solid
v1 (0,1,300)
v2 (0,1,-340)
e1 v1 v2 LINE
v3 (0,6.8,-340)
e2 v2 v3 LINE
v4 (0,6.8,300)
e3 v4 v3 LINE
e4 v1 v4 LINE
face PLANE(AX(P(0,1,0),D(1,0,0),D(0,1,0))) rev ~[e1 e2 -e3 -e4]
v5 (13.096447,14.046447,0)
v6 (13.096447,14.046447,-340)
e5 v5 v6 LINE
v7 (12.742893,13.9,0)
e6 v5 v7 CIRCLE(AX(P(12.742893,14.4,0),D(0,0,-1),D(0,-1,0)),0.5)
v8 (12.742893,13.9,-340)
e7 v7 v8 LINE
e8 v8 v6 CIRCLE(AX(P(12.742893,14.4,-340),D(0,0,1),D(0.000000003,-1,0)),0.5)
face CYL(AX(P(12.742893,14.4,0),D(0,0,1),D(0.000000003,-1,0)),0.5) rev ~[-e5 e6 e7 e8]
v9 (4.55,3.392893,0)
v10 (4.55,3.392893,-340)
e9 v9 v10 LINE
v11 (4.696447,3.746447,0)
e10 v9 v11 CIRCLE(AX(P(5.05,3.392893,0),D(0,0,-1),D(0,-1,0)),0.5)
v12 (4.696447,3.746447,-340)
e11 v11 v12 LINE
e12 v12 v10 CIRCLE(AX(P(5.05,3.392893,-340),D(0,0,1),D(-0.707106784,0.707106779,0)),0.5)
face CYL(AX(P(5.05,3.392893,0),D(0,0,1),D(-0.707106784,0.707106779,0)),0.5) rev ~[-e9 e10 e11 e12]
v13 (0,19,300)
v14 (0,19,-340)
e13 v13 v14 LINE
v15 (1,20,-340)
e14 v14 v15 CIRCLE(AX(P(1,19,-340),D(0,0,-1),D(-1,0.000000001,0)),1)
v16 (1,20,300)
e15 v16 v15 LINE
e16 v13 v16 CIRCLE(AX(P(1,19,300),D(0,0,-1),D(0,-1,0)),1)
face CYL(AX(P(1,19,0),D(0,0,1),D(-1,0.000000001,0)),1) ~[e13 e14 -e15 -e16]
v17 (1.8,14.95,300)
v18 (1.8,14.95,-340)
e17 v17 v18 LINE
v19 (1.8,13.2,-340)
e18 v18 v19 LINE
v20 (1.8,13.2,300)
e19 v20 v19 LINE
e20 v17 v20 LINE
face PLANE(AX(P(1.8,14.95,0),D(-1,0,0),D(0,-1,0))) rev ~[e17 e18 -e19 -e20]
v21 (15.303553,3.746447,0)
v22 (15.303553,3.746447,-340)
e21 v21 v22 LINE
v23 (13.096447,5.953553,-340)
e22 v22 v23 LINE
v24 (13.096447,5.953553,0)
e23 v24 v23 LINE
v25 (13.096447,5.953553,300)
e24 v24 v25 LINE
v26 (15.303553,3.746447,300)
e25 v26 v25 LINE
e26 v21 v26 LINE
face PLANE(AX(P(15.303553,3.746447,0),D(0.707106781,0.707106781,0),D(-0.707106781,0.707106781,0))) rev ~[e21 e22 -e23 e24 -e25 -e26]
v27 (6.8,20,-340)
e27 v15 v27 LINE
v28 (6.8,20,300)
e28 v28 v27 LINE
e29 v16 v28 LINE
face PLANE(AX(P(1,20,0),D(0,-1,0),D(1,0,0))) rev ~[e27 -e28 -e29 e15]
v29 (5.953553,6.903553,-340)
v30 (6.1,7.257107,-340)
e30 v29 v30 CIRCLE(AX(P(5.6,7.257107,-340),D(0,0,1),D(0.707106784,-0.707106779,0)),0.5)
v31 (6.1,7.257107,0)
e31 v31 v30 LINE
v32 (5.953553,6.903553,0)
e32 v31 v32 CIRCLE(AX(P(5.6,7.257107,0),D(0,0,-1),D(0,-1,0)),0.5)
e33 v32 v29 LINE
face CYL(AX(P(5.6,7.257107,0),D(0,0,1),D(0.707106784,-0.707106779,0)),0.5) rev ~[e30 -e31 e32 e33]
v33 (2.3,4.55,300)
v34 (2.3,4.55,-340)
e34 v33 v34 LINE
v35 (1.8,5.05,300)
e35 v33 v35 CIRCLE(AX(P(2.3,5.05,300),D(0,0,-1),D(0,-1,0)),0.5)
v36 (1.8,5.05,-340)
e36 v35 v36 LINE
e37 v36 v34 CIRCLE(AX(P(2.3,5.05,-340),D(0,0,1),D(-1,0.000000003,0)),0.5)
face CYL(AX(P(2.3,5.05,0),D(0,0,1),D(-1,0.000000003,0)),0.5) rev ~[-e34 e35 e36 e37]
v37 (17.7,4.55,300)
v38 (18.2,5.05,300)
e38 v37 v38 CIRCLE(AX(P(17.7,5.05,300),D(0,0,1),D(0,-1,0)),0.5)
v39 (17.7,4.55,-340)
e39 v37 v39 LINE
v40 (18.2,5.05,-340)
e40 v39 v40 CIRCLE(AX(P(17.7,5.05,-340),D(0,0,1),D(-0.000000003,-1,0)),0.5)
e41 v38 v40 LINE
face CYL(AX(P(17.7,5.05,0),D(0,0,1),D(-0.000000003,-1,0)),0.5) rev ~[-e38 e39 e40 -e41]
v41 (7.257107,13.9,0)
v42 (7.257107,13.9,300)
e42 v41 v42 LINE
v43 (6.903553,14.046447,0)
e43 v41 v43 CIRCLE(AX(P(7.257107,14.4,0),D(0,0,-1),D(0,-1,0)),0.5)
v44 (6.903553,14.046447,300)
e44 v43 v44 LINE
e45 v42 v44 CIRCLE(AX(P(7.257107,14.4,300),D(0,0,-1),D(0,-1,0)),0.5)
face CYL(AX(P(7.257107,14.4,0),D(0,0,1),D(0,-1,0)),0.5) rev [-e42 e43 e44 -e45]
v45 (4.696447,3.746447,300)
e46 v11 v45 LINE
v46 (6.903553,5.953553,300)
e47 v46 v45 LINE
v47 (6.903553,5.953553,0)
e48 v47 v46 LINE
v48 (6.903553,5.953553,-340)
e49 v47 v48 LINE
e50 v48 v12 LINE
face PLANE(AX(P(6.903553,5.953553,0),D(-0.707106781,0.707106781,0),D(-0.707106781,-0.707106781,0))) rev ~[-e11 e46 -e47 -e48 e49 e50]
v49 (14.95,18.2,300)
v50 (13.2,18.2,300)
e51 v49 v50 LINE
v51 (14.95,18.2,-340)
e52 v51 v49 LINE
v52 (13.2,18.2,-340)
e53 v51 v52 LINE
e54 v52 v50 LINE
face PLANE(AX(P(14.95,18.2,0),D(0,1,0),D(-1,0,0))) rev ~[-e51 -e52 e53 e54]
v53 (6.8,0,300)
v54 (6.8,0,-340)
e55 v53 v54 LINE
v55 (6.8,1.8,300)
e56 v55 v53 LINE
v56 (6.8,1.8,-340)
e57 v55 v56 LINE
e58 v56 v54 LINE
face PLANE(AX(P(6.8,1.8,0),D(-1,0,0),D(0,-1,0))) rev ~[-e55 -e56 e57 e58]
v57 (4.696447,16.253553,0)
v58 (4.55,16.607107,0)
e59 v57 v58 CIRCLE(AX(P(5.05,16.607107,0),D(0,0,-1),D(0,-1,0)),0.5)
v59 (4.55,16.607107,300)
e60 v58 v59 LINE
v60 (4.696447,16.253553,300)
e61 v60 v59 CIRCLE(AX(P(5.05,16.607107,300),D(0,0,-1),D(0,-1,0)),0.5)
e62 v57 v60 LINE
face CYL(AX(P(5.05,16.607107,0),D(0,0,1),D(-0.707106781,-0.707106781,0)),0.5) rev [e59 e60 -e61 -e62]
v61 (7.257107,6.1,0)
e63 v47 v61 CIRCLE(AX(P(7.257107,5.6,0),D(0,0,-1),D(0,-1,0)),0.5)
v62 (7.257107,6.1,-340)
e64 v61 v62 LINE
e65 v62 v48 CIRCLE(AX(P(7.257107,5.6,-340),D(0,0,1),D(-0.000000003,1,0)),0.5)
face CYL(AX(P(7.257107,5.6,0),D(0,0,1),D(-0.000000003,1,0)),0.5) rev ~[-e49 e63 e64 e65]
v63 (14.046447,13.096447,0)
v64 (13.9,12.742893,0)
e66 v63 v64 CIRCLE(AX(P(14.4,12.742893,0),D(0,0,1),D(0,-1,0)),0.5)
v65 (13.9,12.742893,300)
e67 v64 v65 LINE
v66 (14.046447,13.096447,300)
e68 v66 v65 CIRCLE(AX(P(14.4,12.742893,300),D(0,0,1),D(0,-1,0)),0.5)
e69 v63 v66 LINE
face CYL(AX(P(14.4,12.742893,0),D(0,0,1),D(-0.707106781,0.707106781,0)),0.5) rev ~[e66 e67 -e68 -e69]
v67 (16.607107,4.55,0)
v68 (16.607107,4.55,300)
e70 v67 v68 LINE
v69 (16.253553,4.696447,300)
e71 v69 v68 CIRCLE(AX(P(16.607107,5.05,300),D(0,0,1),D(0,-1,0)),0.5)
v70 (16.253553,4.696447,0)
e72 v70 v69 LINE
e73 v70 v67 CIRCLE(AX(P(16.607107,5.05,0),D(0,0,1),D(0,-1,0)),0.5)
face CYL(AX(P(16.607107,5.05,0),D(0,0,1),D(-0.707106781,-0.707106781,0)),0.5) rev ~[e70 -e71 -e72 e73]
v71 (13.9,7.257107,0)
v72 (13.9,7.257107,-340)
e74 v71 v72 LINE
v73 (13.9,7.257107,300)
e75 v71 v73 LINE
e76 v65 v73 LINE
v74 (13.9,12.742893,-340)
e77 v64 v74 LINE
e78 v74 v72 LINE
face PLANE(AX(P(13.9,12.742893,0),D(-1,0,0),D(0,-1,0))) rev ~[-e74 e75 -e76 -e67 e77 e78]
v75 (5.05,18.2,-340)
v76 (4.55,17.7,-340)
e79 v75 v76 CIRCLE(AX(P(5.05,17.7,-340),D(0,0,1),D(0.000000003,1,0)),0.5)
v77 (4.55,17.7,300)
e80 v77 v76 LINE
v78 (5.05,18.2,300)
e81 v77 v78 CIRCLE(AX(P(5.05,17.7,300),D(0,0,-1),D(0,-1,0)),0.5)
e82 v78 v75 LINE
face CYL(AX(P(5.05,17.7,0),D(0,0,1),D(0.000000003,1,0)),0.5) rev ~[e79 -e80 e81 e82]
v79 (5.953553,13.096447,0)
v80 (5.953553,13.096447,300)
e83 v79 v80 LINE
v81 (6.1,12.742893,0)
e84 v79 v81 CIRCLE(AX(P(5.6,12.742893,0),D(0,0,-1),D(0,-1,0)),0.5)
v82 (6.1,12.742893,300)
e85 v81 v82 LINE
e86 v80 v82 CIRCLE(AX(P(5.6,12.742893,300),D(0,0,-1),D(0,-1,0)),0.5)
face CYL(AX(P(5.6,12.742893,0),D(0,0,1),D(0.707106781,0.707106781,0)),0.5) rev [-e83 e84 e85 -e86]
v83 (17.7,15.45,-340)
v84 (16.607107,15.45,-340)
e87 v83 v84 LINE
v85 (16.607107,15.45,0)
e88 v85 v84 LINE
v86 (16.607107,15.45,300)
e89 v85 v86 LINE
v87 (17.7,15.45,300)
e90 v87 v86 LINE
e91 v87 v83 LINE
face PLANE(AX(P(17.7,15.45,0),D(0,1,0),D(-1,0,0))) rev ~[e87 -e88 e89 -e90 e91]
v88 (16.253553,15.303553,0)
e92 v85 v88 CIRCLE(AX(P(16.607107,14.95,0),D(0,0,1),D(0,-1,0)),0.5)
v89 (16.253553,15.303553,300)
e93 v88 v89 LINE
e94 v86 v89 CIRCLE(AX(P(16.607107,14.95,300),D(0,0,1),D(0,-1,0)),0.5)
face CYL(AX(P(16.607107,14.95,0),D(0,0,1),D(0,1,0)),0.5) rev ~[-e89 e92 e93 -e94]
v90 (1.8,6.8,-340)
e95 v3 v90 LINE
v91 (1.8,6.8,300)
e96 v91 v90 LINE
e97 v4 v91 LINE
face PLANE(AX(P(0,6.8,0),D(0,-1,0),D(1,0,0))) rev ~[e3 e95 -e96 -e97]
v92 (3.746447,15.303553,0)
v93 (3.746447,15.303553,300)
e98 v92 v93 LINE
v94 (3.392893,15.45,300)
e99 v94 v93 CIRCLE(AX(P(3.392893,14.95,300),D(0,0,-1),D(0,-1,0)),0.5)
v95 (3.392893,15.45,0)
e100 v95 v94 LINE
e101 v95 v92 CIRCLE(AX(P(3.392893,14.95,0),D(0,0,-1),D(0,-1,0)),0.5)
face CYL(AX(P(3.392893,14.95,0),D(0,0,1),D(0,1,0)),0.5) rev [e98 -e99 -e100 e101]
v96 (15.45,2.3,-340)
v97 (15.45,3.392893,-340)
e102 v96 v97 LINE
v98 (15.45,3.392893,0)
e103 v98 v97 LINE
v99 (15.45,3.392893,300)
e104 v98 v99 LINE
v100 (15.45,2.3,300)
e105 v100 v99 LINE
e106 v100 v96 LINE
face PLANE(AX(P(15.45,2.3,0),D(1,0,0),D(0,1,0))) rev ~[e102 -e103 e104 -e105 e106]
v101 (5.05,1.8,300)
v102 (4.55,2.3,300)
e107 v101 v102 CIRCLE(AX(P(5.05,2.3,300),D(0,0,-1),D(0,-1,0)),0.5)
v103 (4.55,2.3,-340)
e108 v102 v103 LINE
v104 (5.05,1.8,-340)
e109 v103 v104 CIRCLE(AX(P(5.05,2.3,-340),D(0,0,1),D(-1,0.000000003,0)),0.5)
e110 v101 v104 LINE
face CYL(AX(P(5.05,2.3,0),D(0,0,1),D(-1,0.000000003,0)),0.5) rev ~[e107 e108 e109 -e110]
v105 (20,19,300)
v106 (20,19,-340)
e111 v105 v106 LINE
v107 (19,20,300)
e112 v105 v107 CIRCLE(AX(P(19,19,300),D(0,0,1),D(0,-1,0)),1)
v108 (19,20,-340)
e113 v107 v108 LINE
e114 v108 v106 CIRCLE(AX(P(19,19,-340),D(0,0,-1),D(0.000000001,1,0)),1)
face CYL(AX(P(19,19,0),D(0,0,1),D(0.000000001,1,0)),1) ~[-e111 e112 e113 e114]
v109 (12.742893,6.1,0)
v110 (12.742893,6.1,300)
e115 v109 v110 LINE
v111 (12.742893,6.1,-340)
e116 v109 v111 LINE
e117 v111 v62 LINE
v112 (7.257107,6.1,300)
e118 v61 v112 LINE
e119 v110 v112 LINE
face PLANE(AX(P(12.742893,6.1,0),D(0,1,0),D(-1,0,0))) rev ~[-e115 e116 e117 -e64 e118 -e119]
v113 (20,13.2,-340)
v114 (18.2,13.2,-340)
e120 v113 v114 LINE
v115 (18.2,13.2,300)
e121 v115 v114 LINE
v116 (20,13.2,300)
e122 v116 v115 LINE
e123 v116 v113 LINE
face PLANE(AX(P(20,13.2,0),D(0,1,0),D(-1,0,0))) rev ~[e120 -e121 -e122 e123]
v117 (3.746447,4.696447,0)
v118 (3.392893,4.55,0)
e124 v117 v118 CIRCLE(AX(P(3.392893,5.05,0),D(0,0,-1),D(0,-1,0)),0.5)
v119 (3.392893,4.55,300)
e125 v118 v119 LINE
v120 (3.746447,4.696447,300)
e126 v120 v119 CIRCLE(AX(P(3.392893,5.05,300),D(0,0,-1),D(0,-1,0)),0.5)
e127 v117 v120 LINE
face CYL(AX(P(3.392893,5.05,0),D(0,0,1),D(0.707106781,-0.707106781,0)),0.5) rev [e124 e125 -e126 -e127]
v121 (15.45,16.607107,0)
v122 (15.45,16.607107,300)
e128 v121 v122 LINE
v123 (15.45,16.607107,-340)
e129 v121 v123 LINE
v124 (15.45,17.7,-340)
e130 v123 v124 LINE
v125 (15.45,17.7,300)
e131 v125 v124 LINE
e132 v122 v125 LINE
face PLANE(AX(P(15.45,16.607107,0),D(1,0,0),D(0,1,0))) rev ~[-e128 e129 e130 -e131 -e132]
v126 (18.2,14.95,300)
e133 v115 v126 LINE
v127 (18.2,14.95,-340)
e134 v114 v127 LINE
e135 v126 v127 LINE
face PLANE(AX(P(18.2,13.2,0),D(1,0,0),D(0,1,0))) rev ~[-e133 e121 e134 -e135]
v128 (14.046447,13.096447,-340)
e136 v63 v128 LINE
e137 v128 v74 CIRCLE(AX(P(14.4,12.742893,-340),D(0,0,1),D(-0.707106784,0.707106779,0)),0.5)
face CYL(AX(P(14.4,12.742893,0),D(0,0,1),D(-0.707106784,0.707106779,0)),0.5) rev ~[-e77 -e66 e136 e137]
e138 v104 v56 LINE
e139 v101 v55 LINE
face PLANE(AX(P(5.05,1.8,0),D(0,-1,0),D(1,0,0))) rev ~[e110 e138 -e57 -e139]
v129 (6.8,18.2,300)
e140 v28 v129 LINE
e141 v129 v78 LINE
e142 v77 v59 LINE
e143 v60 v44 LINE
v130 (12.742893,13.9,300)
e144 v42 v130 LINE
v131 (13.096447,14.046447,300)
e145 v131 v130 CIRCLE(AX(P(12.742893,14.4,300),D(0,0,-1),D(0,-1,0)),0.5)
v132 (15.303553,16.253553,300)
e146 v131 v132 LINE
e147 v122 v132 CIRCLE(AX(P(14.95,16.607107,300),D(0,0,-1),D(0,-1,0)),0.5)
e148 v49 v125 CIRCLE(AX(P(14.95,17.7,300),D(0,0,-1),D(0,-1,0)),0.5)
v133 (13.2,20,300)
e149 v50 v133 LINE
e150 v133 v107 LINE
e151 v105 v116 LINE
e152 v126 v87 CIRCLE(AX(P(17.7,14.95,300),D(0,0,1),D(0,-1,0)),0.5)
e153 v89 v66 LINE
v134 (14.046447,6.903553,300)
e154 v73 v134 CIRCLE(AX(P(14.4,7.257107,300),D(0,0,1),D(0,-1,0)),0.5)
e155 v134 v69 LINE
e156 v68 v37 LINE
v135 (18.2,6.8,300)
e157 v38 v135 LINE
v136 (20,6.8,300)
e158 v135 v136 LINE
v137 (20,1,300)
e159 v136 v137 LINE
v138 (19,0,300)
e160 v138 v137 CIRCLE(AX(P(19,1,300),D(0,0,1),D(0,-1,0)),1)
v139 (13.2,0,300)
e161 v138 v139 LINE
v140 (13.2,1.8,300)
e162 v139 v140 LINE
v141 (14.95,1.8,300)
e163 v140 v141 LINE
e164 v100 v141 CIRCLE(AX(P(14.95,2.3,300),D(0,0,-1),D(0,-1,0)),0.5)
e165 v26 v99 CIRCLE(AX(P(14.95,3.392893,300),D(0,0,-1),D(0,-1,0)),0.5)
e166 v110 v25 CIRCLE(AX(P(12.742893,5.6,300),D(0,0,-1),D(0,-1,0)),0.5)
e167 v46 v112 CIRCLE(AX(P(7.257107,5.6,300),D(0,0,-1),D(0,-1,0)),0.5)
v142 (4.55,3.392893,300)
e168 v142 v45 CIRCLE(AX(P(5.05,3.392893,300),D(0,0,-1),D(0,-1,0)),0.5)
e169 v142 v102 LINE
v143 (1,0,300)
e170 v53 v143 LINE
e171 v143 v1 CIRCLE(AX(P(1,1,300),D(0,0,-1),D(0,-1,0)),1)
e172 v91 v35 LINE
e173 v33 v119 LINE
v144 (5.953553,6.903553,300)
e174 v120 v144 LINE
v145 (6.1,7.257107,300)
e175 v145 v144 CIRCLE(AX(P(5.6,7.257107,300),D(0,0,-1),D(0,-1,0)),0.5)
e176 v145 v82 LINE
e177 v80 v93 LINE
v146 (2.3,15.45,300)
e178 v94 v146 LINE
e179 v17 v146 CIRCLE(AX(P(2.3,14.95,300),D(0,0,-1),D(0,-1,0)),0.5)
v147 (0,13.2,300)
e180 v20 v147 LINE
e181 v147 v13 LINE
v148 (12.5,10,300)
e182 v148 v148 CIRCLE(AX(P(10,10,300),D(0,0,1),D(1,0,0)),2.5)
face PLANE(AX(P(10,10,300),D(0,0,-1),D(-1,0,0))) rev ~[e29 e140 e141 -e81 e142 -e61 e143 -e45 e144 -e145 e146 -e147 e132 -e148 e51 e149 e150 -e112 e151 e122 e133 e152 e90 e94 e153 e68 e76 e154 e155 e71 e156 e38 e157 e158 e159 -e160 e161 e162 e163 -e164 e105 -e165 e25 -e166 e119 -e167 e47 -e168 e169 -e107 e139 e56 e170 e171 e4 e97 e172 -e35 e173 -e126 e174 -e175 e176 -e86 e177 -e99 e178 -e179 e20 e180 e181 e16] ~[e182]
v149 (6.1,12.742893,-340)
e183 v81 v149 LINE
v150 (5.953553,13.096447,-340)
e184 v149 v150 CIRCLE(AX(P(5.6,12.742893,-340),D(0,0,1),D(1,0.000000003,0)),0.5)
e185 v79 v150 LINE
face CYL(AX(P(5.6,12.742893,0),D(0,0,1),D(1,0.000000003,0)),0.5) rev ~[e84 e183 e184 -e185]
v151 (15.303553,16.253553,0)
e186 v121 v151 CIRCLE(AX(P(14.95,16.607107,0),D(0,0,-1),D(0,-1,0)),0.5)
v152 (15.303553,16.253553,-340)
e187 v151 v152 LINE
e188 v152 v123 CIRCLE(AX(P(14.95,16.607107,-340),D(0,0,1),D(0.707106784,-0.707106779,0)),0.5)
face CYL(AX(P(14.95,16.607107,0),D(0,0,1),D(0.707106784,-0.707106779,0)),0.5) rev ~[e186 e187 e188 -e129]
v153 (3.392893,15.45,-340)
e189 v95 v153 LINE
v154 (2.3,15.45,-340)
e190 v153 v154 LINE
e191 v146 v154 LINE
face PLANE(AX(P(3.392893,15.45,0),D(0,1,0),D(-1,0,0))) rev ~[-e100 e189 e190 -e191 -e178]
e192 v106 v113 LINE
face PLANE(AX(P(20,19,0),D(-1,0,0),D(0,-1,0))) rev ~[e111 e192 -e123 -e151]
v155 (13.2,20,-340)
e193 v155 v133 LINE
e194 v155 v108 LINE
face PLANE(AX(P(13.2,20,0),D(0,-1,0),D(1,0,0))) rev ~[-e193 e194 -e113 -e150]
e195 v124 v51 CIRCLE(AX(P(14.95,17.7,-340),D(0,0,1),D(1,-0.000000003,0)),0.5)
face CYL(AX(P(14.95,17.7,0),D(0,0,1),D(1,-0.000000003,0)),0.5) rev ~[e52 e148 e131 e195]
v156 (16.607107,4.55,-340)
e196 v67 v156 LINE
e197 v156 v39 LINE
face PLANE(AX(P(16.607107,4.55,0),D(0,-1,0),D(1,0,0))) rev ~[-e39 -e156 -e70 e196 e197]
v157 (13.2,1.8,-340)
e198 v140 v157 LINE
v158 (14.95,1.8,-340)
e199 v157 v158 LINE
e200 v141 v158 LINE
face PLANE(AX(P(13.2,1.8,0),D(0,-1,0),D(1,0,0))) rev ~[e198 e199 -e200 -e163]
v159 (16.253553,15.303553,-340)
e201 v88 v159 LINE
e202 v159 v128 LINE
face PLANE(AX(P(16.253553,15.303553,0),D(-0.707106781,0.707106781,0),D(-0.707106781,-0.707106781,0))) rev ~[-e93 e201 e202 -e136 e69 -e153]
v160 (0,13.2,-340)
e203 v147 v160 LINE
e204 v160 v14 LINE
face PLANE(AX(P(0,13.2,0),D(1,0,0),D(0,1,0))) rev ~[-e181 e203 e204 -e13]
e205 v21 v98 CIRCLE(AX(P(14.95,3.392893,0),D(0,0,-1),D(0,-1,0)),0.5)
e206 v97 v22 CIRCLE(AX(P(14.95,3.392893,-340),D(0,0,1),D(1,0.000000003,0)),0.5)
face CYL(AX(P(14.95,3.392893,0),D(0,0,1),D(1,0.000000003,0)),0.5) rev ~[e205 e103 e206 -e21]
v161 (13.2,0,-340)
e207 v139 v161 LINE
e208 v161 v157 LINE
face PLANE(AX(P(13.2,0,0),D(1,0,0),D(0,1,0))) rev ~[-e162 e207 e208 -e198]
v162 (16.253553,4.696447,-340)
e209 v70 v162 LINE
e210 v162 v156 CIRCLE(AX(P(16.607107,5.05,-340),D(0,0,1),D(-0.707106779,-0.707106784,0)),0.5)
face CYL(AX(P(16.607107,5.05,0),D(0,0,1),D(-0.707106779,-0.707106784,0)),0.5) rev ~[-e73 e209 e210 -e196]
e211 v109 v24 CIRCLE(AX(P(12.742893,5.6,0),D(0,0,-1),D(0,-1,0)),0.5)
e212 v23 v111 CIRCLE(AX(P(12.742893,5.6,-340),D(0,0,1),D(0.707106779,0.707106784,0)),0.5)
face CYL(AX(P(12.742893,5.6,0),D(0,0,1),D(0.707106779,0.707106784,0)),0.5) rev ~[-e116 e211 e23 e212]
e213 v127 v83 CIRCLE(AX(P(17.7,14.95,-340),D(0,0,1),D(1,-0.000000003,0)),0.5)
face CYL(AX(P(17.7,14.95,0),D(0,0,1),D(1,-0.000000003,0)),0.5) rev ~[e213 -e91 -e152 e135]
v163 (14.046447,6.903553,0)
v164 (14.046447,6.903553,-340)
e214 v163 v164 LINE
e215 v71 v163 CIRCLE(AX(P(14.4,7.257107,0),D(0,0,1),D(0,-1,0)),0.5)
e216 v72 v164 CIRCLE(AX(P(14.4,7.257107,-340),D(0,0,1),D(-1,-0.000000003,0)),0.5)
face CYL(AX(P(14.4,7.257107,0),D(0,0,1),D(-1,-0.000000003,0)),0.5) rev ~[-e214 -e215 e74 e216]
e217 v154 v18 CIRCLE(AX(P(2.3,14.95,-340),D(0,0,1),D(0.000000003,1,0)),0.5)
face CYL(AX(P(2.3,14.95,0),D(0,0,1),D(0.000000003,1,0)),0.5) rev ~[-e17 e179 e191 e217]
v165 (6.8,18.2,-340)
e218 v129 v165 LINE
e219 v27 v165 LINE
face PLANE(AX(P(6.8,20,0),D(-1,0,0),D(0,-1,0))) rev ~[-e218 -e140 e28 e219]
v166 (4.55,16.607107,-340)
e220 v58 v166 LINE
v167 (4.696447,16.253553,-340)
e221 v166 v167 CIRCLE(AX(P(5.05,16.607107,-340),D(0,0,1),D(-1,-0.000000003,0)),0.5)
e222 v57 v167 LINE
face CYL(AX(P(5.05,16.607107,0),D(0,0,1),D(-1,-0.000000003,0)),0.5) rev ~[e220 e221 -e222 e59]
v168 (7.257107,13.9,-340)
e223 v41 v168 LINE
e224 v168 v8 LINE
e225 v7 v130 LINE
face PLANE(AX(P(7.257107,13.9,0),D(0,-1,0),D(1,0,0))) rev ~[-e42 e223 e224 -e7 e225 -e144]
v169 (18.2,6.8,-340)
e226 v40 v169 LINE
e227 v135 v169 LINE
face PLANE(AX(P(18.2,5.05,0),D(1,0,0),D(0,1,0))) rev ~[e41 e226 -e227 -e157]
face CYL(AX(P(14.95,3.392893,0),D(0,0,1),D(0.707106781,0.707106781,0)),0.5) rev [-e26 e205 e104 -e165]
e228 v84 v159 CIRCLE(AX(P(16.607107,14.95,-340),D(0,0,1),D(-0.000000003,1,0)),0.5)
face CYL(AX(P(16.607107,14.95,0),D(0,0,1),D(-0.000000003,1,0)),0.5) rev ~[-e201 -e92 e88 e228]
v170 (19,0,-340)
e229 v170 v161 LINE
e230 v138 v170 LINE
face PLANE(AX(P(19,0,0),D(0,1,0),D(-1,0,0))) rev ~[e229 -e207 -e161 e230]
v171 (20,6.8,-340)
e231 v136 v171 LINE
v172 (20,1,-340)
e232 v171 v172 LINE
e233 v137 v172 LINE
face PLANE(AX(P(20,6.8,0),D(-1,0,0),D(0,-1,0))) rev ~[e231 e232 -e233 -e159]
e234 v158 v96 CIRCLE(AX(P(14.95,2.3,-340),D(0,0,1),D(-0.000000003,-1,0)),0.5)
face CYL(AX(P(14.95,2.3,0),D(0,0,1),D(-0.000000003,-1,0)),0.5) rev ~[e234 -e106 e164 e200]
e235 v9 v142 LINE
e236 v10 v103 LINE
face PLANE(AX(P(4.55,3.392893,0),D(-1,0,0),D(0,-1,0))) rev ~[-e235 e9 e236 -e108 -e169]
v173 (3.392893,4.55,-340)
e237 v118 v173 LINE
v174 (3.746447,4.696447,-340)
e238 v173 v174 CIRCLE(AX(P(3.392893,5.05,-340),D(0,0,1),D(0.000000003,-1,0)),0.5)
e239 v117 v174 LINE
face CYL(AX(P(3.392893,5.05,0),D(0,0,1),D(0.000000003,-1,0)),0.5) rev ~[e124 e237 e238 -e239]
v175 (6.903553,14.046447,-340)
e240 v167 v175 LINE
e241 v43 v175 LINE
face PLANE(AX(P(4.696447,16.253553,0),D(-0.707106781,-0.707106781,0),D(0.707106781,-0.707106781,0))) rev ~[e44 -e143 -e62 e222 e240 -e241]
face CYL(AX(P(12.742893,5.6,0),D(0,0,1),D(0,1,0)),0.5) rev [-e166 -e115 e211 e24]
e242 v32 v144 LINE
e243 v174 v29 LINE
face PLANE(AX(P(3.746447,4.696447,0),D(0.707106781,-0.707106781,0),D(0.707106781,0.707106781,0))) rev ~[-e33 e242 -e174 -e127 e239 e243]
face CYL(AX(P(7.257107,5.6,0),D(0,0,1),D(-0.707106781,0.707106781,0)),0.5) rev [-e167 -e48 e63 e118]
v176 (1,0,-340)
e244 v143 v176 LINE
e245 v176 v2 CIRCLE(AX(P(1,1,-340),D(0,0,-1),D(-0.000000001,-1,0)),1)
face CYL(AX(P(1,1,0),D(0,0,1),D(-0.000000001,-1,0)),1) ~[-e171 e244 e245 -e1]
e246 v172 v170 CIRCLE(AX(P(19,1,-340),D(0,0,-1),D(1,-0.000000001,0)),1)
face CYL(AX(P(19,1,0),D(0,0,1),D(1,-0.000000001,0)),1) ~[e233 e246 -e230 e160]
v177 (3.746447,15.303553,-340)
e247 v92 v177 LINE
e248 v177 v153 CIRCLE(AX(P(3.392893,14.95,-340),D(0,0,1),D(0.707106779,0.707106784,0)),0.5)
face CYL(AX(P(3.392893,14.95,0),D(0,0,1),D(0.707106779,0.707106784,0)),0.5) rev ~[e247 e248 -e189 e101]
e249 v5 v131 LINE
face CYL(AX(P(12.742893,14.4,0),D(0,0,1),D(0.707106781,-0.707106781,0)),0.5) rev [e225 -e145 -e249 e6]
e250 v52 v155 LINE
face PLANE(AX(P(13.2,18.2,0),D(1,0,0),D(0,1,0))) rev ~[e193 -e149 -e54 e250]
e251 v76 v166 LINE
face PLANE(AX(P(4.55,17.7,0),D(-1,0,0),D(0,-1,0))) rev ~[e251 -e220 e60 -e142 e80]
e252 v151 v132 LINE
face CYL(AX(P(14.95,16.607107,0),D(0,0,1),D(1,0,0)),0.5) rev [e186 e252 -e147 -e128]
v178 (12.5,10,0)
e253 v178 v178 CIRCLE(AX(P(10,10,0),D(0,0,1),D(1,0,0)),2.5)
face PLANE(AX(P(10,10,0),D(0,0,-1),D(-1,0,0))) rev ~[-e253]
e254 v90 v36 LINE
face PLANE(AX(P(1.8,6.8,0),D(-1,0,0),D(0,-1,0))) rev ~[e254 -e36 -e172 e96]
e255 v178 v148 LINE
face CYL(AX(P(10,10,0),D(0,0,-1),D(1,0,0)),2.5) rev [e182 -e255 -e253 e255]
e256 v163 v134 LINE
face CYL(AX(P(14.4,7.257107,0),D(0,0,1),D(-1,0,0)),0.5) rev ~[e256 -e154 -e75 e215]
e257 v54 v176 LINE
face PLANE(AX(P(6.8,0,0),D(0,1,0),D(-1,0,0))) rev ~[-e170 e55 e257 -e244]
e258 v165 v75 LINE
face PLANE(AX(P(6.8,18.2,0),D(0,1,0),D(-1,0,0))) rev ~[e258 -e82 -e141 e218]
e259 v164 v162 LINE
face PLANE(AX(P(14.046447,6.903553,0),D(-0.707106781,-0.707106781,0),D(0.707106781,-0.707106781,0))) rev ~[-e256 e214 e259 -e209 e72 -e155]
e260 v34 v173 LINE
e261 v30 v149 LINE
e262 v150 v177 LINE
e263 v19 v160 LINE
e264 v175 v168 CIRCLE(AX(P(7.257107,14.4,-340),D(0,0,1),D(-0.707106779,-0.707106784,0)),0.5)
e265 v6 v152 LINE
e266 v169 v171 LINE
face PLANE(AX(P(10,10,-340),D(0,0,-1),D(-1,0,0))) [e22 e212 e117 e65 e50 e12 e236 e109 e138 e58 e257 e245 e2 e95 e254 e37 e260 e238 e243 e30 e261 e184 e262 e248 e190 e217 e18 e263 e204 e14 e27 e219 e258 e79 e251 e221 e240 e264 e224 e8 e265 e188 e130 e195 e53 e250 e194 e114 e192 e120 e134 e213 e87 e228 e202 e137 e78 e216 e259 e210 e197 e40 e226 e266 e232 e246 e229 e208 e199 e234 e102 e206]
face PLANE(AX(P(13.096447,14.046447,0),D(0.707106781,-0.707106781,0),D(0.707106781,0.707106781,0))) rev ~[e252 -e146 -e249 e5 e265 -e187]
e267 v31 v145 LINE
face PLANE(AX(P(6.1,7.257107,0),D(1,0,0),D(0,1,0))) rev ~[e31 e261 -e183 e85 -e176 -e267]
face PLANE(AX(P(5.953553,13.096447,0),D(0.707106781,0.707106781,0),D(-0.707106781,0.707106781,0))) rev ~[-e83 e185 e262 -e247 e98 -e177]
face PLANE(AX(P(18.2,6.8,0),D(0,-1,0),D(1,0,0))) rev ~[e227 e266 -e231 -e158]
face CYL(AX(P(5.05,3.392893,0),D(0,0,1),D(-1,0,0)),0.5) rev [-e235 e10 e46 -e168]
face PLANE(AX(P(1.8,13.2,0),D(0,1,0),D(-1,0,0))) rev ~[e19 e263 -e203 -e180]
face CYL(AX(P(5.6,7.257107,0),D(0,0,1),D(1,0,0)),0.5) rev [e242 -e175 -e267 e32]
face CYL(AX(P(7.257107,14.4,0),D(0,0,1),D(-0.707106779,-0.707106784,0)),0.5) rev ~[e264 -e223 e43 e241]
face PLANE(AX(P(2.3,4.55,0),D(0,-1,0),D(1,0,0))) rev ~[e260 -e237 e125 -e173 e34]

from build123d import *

# Parameters (mm, degrees)
SKETCH1_R           = 2.5
BOSS_EXTRUDE1_DEPTH = 300
FILLET1_R           = 1
FILLET2_R           = 0.5
FILLET3_R           = 0.5
FILLET4_R           = 0.5
FILLET5_R           = 0.5
BOSS_EXTRUDE2_DEPTH = 340


with BuildPart() as part:
    # Sketch1 → Boss-Extrude1 (new body)
    with BuildSketch(Plane.XY):
        Polygon((13.2, 0), (13.2, 1.8), (15.45, 1.8), (15.45, 3.6), (12.95, 6.1), (7.05, 6.1), (4.55, 3.6), (4.55, 1.8), (6.8, 1.8), (6.8, 0), (0, 0), (0, 6.8), (1.8, 6.8), (1.8, 4.55), (3.6, 4.55), (6.1, 7.05), (6.1, 12.95), (3.6, 15.45), (1.8, 15.45), (1.8, 13.2), (0, 13.2), (0, 20), (6.8, 20), (6.8, 18.2), (4.55, 18.2), (4.55, 16.4), (7.05, 13.9), (12.95, 13.9), (15.45, 16.4), (15.45, 18.2), (13.2, 18.2), (13.2, 20), (20, 20), (20, 13.2), (18.2, 13.2), (18.2, 15.45), (16.4, 15.45), (13.9, 12.95), (13.9, 7.05), (16.4, 4.55), (18.2, 4.55), (18.2, 6.8), (20, 6.8), (20, 0), align=None)
        with Locations((10, 10)):
            Circle(SKETCH1_R, mode=Mode.SUBTRACT)
    extrude(amount=BOSS_EXTRUDE1_DEPTH)

    # Fillet1
    fillet1_edges = [part.edges().sort_by_distance(p)[0] for p in [
        (0, 0, 150),
        (0, 20, 150),
        (20, 20, 150),
        (20, 0, 150),
    ]]
    fillet(fillet1_edges, radius=FILLET1_R)

    # Fillet2
    fillet2_edges = [part.edges().sort_by_distance(p)[0] for p in [
        (4.55, 18.2, 150),
        (4.55, 16.4, 150),
        (7.05, 13.9, 150),
        (12.95, 13.9, 150),
        (15.45, 16.4, 150),
        (15.45, 18.2, 150),
    ]]
    fillet(fillet2_edges, radius=FILLET2_R)

    # Fillet3
    fillet3_edges = [part.edges().sort_by_distance(p)[0] for p in [
        (18.2, 15.45, 150),
        (16.4, 15.45, 150),
        (13.9, 12.95, 150),
        (13.9, 7.05, 150),
        (16.4, 4.55, 150),
        (18.2, 4.55, 150),
    ]]
    fillet(fillet3_edges, radius=FILLET3_R)

    # Fillet4
    fillet4_edges = [part.edges().sort_by_distance(p)[0] for p in [
        (1.8, 4.55, 150),
        (3.6, 4.55, 150),
        (6.1, 7.05, 150),
        (6.1, 12.95, 150),
        (3.6, 15.45, 150),
        (1.8, 15.45, 150),
    ]]
    fillet(fillet4_edges, radius=FILLET4_R)

    # Fillet5
    fillet5_edges = [part.edges().sort_by_distance(p)[0] for p in [
        (15.45, 1.8, 150),
        (15.45, 3.6, 150),
        (12.95, 6.1, 150),
        (7.05, 6.1, 150),
        (4.55, 3.6, 150),
        (4.55, 1.8, 150),
    ]]
    fillet(fillet5_edges, radius=FILLET5_R)

    # Sketch4 → Boss-Extrude2 (add)
    with BuildSketch(Plane(origin=(0, 0, 0), x_dir=(-1, 0, 0), z_dir=(0, 0, -1))):
        with BuildLine():
            Line((-13.2, 20), (-19, 20))
            ThreePointArc((-19, 20), (-19.707106781, 19.707106781), (-20, 19))
            Line((-20, 19), (-20, 13.2))
            Line((-20, 13.2), (-18.2, 13.2))
            Line((-18.2, 13.2), (-18.2, 14.95))
            ThreePointArc((-18.2, 14.95), (-18.053553391, 15.303553391), (-17.7, 15.45))
            Line((-17.7, 15.45), (-16.607106781, 15.45))
            ThreePointArc((-16.607106781, 15.45), (-16.415765065, 15.411939766), (-16.253553391, 15.303553391))
            Line((-16.253553391, 15.303553391), (-14.046446609, 13.096446609))
            ThreePointArc((-14.046446609, 13.096446609), (-13.938060234, 12.934234935), (-13.9, 12.742893219))
            Line((-13.9, 12.742893219), (-13.9, 7.257106781))
            ThreePointArc((-13.9, 7.257106781), (-13.938060234, 7.065765065), (-14.046446609, 6.903553391))
            Line((-14.046446609, 6.903553391), (-16.253553391, 4.696446609))
            ThreePointArc((-16.253553391, 4.696446609), (-16.415765065, 4.588060234), (-16.607106781, 4.55))
            Line((-16.607106781, 4.55), (-17.7, 4.55))
            ThreePointArc((-17.7, 4.55), (-18.053553391, 4.696446609), (-18.2, 5.05))
            Line((-18.2, 5.05), (-18.2, 6.8))
            Line((-18.2, 6.8), (-20, 6.8))
            Line((-20, 6.8), (-20, 1))
            ThreePointArc((-20, 1), (-19.707106781, 0.292893219), (-19, 0))
            Line((-19, 0), (-13.2, 0))
            Line((-13.2, 0), (-13.2, 1.8))
            Line((-13.2, 1.8), (-14.95, 1.8))
            ThreePointArc((-14.95, 1.8), (-15.303553391, 1.946446609), (-15.45, 2.3))
            Line((-15.45, 2.3), (-15.45, 3.392893219))
            ThreePointArc((-15.45, 3.392893219), (-15.411939766, 3.584234935), (-15.303553391, 3.746446609))
            Line((-15.303553391, 3.746446609), (-13.096446609, 5.953553391))
            ThreePointArc((-13.096446609, 5.953553391), (-12.934234935, 6.061939766), (-12.742893219, 6.1))
            Line((-12.742893219, 6.1), (-7.257106781, 6.1))
            ThreePointArc((-7.257106781, 6.1), (-7.065765065, 6.061939766), (-6.903553391, 5.953553391))
            Line((-6.903553391, 5.953553391), (-4.696446609, 3.746446609))
            ThreePointArc((-4.696446609, 3.746446609), (-4.588060234, 3.584234935), (-4.55, 3.392893219))
            Line((-4.55, 3.392893219), (-4.55, 2.3))
            ThreePointArc((-4.55, 2.3), (-4.696446609, 1.946446609), (-5.05, 1.8))
            Line((-5.05, 1.8), (-6.8, 1.8))
            Line((-6.8, 1.8), (-6.8, 0))
            Line((-6.8, 0), (-1, 0))
            ThreePointArc((-1, 0), (-0.292893219, 0.292893219), (0, 1))
            Line((0, 1), (0, 6.8))
            Line((0, 6.8), (-1.8, 6.8))
            Line((-1.8, 6.8), (-1.8, 5.05))
            ThreePointArc((-1.8, 5.05), (-1.946446609, 4.696446609), (-2.3, 4.55))
            Line((-2.3, 4.55), (-3.392893219, 4.55))
            ThreePointArc((-3.392893219, 4.55), (-3.584234935, 4.588060234), (-3.746446609, 4.696446609))
            Line((-3.746446609, 4.696446609), (-5.953553391, 6.903553391))
            ThreePointArc((-5.953553391, 6.903553391), (-6.061939766, 7.065765065), (-6.1, 7.257106781))
            Line((-6.1, 7.257106781), (-6.1, 12.742893219))
            ThreePointArc((-6.1, 12.742893219), (-6.061939766, 12.934234935), (-5.953553391, 13.096446609))
            Line((-5.953553391, 13.096446609), (-3.746446609, 15.303553391))
            ThreePointArc((-3.746446609, 15.303553391), (-3.584234935, 15.411939766), (-3.392893219, 15.45))
            Line((-3.392893219, 15.45), (-2.3, 15.45))
            ThreePointArc((-2.3, 15.45), (-1.946446609, 15.303553391), (-1.8, 14.95))
            Line((-1.8, 14.95), (-1.8, 13.2))
            Line((-1.8, 13.2), (0, 13.2))
            Line((0, 13.2), (0, 19))
            ThreePointArc((0, 19), (-0.292893219, 19.707106781), (-1, 20))
            Line((-1, 20), (-6.8, 20))
            Line((-6.8, 20), (-6.8, 18.2))
            Line((-6.8, 18.2), (-5.05, 18.2))
            ThreePointArc((-5.05, 18.2), (-4.696446609, 18.053553391), (-4.55, 17.7))
            Line((-4.55, 17.7), (-4.55, 16.607106781))
            ThreePointArc((-4.55, 16.607106781), (-4.588060234, 16.415765065), (-4.696446609, 16.253553391))
            Line((-4.696446609, 16.253553391), (-6.903553391, 14.046446609))
            ThreePointArc((-6.903553391, 14.046446609), (-7.065765065, 13.938060234), (-7.257106781, 13.9))
            Line((-7.257106781, 13.9), (-12.742893219, 13.9))
            ThreePointArc((-12.742893219, 13.9), (-12.934234935, 13.938060234), (-13.096446609, 14.046446609))
            Line((-13.096446609, 14.046446609), (-15.303553391, 16.253553391))
            ThreePointArc((-15.303553391, 16.253553391), (-15.411939766, 16.415765065), (-15.45, 16.607106781))
            Line((-15.45, 16.607106781), (-15.45, 17.7))
            ThreePointArc((-15.45, 17.7), (-15.303553391, 18.053553391), (-14.95, 18.2))
            Line((-14.95, 18.2), (-13.2, 18.2))
            Line((-13.2, 18.2), (-13.2, 20))
        make_face()
    extrude(amount=BOSS_EXTRUDE2_DEPTH)


solid = part.part
